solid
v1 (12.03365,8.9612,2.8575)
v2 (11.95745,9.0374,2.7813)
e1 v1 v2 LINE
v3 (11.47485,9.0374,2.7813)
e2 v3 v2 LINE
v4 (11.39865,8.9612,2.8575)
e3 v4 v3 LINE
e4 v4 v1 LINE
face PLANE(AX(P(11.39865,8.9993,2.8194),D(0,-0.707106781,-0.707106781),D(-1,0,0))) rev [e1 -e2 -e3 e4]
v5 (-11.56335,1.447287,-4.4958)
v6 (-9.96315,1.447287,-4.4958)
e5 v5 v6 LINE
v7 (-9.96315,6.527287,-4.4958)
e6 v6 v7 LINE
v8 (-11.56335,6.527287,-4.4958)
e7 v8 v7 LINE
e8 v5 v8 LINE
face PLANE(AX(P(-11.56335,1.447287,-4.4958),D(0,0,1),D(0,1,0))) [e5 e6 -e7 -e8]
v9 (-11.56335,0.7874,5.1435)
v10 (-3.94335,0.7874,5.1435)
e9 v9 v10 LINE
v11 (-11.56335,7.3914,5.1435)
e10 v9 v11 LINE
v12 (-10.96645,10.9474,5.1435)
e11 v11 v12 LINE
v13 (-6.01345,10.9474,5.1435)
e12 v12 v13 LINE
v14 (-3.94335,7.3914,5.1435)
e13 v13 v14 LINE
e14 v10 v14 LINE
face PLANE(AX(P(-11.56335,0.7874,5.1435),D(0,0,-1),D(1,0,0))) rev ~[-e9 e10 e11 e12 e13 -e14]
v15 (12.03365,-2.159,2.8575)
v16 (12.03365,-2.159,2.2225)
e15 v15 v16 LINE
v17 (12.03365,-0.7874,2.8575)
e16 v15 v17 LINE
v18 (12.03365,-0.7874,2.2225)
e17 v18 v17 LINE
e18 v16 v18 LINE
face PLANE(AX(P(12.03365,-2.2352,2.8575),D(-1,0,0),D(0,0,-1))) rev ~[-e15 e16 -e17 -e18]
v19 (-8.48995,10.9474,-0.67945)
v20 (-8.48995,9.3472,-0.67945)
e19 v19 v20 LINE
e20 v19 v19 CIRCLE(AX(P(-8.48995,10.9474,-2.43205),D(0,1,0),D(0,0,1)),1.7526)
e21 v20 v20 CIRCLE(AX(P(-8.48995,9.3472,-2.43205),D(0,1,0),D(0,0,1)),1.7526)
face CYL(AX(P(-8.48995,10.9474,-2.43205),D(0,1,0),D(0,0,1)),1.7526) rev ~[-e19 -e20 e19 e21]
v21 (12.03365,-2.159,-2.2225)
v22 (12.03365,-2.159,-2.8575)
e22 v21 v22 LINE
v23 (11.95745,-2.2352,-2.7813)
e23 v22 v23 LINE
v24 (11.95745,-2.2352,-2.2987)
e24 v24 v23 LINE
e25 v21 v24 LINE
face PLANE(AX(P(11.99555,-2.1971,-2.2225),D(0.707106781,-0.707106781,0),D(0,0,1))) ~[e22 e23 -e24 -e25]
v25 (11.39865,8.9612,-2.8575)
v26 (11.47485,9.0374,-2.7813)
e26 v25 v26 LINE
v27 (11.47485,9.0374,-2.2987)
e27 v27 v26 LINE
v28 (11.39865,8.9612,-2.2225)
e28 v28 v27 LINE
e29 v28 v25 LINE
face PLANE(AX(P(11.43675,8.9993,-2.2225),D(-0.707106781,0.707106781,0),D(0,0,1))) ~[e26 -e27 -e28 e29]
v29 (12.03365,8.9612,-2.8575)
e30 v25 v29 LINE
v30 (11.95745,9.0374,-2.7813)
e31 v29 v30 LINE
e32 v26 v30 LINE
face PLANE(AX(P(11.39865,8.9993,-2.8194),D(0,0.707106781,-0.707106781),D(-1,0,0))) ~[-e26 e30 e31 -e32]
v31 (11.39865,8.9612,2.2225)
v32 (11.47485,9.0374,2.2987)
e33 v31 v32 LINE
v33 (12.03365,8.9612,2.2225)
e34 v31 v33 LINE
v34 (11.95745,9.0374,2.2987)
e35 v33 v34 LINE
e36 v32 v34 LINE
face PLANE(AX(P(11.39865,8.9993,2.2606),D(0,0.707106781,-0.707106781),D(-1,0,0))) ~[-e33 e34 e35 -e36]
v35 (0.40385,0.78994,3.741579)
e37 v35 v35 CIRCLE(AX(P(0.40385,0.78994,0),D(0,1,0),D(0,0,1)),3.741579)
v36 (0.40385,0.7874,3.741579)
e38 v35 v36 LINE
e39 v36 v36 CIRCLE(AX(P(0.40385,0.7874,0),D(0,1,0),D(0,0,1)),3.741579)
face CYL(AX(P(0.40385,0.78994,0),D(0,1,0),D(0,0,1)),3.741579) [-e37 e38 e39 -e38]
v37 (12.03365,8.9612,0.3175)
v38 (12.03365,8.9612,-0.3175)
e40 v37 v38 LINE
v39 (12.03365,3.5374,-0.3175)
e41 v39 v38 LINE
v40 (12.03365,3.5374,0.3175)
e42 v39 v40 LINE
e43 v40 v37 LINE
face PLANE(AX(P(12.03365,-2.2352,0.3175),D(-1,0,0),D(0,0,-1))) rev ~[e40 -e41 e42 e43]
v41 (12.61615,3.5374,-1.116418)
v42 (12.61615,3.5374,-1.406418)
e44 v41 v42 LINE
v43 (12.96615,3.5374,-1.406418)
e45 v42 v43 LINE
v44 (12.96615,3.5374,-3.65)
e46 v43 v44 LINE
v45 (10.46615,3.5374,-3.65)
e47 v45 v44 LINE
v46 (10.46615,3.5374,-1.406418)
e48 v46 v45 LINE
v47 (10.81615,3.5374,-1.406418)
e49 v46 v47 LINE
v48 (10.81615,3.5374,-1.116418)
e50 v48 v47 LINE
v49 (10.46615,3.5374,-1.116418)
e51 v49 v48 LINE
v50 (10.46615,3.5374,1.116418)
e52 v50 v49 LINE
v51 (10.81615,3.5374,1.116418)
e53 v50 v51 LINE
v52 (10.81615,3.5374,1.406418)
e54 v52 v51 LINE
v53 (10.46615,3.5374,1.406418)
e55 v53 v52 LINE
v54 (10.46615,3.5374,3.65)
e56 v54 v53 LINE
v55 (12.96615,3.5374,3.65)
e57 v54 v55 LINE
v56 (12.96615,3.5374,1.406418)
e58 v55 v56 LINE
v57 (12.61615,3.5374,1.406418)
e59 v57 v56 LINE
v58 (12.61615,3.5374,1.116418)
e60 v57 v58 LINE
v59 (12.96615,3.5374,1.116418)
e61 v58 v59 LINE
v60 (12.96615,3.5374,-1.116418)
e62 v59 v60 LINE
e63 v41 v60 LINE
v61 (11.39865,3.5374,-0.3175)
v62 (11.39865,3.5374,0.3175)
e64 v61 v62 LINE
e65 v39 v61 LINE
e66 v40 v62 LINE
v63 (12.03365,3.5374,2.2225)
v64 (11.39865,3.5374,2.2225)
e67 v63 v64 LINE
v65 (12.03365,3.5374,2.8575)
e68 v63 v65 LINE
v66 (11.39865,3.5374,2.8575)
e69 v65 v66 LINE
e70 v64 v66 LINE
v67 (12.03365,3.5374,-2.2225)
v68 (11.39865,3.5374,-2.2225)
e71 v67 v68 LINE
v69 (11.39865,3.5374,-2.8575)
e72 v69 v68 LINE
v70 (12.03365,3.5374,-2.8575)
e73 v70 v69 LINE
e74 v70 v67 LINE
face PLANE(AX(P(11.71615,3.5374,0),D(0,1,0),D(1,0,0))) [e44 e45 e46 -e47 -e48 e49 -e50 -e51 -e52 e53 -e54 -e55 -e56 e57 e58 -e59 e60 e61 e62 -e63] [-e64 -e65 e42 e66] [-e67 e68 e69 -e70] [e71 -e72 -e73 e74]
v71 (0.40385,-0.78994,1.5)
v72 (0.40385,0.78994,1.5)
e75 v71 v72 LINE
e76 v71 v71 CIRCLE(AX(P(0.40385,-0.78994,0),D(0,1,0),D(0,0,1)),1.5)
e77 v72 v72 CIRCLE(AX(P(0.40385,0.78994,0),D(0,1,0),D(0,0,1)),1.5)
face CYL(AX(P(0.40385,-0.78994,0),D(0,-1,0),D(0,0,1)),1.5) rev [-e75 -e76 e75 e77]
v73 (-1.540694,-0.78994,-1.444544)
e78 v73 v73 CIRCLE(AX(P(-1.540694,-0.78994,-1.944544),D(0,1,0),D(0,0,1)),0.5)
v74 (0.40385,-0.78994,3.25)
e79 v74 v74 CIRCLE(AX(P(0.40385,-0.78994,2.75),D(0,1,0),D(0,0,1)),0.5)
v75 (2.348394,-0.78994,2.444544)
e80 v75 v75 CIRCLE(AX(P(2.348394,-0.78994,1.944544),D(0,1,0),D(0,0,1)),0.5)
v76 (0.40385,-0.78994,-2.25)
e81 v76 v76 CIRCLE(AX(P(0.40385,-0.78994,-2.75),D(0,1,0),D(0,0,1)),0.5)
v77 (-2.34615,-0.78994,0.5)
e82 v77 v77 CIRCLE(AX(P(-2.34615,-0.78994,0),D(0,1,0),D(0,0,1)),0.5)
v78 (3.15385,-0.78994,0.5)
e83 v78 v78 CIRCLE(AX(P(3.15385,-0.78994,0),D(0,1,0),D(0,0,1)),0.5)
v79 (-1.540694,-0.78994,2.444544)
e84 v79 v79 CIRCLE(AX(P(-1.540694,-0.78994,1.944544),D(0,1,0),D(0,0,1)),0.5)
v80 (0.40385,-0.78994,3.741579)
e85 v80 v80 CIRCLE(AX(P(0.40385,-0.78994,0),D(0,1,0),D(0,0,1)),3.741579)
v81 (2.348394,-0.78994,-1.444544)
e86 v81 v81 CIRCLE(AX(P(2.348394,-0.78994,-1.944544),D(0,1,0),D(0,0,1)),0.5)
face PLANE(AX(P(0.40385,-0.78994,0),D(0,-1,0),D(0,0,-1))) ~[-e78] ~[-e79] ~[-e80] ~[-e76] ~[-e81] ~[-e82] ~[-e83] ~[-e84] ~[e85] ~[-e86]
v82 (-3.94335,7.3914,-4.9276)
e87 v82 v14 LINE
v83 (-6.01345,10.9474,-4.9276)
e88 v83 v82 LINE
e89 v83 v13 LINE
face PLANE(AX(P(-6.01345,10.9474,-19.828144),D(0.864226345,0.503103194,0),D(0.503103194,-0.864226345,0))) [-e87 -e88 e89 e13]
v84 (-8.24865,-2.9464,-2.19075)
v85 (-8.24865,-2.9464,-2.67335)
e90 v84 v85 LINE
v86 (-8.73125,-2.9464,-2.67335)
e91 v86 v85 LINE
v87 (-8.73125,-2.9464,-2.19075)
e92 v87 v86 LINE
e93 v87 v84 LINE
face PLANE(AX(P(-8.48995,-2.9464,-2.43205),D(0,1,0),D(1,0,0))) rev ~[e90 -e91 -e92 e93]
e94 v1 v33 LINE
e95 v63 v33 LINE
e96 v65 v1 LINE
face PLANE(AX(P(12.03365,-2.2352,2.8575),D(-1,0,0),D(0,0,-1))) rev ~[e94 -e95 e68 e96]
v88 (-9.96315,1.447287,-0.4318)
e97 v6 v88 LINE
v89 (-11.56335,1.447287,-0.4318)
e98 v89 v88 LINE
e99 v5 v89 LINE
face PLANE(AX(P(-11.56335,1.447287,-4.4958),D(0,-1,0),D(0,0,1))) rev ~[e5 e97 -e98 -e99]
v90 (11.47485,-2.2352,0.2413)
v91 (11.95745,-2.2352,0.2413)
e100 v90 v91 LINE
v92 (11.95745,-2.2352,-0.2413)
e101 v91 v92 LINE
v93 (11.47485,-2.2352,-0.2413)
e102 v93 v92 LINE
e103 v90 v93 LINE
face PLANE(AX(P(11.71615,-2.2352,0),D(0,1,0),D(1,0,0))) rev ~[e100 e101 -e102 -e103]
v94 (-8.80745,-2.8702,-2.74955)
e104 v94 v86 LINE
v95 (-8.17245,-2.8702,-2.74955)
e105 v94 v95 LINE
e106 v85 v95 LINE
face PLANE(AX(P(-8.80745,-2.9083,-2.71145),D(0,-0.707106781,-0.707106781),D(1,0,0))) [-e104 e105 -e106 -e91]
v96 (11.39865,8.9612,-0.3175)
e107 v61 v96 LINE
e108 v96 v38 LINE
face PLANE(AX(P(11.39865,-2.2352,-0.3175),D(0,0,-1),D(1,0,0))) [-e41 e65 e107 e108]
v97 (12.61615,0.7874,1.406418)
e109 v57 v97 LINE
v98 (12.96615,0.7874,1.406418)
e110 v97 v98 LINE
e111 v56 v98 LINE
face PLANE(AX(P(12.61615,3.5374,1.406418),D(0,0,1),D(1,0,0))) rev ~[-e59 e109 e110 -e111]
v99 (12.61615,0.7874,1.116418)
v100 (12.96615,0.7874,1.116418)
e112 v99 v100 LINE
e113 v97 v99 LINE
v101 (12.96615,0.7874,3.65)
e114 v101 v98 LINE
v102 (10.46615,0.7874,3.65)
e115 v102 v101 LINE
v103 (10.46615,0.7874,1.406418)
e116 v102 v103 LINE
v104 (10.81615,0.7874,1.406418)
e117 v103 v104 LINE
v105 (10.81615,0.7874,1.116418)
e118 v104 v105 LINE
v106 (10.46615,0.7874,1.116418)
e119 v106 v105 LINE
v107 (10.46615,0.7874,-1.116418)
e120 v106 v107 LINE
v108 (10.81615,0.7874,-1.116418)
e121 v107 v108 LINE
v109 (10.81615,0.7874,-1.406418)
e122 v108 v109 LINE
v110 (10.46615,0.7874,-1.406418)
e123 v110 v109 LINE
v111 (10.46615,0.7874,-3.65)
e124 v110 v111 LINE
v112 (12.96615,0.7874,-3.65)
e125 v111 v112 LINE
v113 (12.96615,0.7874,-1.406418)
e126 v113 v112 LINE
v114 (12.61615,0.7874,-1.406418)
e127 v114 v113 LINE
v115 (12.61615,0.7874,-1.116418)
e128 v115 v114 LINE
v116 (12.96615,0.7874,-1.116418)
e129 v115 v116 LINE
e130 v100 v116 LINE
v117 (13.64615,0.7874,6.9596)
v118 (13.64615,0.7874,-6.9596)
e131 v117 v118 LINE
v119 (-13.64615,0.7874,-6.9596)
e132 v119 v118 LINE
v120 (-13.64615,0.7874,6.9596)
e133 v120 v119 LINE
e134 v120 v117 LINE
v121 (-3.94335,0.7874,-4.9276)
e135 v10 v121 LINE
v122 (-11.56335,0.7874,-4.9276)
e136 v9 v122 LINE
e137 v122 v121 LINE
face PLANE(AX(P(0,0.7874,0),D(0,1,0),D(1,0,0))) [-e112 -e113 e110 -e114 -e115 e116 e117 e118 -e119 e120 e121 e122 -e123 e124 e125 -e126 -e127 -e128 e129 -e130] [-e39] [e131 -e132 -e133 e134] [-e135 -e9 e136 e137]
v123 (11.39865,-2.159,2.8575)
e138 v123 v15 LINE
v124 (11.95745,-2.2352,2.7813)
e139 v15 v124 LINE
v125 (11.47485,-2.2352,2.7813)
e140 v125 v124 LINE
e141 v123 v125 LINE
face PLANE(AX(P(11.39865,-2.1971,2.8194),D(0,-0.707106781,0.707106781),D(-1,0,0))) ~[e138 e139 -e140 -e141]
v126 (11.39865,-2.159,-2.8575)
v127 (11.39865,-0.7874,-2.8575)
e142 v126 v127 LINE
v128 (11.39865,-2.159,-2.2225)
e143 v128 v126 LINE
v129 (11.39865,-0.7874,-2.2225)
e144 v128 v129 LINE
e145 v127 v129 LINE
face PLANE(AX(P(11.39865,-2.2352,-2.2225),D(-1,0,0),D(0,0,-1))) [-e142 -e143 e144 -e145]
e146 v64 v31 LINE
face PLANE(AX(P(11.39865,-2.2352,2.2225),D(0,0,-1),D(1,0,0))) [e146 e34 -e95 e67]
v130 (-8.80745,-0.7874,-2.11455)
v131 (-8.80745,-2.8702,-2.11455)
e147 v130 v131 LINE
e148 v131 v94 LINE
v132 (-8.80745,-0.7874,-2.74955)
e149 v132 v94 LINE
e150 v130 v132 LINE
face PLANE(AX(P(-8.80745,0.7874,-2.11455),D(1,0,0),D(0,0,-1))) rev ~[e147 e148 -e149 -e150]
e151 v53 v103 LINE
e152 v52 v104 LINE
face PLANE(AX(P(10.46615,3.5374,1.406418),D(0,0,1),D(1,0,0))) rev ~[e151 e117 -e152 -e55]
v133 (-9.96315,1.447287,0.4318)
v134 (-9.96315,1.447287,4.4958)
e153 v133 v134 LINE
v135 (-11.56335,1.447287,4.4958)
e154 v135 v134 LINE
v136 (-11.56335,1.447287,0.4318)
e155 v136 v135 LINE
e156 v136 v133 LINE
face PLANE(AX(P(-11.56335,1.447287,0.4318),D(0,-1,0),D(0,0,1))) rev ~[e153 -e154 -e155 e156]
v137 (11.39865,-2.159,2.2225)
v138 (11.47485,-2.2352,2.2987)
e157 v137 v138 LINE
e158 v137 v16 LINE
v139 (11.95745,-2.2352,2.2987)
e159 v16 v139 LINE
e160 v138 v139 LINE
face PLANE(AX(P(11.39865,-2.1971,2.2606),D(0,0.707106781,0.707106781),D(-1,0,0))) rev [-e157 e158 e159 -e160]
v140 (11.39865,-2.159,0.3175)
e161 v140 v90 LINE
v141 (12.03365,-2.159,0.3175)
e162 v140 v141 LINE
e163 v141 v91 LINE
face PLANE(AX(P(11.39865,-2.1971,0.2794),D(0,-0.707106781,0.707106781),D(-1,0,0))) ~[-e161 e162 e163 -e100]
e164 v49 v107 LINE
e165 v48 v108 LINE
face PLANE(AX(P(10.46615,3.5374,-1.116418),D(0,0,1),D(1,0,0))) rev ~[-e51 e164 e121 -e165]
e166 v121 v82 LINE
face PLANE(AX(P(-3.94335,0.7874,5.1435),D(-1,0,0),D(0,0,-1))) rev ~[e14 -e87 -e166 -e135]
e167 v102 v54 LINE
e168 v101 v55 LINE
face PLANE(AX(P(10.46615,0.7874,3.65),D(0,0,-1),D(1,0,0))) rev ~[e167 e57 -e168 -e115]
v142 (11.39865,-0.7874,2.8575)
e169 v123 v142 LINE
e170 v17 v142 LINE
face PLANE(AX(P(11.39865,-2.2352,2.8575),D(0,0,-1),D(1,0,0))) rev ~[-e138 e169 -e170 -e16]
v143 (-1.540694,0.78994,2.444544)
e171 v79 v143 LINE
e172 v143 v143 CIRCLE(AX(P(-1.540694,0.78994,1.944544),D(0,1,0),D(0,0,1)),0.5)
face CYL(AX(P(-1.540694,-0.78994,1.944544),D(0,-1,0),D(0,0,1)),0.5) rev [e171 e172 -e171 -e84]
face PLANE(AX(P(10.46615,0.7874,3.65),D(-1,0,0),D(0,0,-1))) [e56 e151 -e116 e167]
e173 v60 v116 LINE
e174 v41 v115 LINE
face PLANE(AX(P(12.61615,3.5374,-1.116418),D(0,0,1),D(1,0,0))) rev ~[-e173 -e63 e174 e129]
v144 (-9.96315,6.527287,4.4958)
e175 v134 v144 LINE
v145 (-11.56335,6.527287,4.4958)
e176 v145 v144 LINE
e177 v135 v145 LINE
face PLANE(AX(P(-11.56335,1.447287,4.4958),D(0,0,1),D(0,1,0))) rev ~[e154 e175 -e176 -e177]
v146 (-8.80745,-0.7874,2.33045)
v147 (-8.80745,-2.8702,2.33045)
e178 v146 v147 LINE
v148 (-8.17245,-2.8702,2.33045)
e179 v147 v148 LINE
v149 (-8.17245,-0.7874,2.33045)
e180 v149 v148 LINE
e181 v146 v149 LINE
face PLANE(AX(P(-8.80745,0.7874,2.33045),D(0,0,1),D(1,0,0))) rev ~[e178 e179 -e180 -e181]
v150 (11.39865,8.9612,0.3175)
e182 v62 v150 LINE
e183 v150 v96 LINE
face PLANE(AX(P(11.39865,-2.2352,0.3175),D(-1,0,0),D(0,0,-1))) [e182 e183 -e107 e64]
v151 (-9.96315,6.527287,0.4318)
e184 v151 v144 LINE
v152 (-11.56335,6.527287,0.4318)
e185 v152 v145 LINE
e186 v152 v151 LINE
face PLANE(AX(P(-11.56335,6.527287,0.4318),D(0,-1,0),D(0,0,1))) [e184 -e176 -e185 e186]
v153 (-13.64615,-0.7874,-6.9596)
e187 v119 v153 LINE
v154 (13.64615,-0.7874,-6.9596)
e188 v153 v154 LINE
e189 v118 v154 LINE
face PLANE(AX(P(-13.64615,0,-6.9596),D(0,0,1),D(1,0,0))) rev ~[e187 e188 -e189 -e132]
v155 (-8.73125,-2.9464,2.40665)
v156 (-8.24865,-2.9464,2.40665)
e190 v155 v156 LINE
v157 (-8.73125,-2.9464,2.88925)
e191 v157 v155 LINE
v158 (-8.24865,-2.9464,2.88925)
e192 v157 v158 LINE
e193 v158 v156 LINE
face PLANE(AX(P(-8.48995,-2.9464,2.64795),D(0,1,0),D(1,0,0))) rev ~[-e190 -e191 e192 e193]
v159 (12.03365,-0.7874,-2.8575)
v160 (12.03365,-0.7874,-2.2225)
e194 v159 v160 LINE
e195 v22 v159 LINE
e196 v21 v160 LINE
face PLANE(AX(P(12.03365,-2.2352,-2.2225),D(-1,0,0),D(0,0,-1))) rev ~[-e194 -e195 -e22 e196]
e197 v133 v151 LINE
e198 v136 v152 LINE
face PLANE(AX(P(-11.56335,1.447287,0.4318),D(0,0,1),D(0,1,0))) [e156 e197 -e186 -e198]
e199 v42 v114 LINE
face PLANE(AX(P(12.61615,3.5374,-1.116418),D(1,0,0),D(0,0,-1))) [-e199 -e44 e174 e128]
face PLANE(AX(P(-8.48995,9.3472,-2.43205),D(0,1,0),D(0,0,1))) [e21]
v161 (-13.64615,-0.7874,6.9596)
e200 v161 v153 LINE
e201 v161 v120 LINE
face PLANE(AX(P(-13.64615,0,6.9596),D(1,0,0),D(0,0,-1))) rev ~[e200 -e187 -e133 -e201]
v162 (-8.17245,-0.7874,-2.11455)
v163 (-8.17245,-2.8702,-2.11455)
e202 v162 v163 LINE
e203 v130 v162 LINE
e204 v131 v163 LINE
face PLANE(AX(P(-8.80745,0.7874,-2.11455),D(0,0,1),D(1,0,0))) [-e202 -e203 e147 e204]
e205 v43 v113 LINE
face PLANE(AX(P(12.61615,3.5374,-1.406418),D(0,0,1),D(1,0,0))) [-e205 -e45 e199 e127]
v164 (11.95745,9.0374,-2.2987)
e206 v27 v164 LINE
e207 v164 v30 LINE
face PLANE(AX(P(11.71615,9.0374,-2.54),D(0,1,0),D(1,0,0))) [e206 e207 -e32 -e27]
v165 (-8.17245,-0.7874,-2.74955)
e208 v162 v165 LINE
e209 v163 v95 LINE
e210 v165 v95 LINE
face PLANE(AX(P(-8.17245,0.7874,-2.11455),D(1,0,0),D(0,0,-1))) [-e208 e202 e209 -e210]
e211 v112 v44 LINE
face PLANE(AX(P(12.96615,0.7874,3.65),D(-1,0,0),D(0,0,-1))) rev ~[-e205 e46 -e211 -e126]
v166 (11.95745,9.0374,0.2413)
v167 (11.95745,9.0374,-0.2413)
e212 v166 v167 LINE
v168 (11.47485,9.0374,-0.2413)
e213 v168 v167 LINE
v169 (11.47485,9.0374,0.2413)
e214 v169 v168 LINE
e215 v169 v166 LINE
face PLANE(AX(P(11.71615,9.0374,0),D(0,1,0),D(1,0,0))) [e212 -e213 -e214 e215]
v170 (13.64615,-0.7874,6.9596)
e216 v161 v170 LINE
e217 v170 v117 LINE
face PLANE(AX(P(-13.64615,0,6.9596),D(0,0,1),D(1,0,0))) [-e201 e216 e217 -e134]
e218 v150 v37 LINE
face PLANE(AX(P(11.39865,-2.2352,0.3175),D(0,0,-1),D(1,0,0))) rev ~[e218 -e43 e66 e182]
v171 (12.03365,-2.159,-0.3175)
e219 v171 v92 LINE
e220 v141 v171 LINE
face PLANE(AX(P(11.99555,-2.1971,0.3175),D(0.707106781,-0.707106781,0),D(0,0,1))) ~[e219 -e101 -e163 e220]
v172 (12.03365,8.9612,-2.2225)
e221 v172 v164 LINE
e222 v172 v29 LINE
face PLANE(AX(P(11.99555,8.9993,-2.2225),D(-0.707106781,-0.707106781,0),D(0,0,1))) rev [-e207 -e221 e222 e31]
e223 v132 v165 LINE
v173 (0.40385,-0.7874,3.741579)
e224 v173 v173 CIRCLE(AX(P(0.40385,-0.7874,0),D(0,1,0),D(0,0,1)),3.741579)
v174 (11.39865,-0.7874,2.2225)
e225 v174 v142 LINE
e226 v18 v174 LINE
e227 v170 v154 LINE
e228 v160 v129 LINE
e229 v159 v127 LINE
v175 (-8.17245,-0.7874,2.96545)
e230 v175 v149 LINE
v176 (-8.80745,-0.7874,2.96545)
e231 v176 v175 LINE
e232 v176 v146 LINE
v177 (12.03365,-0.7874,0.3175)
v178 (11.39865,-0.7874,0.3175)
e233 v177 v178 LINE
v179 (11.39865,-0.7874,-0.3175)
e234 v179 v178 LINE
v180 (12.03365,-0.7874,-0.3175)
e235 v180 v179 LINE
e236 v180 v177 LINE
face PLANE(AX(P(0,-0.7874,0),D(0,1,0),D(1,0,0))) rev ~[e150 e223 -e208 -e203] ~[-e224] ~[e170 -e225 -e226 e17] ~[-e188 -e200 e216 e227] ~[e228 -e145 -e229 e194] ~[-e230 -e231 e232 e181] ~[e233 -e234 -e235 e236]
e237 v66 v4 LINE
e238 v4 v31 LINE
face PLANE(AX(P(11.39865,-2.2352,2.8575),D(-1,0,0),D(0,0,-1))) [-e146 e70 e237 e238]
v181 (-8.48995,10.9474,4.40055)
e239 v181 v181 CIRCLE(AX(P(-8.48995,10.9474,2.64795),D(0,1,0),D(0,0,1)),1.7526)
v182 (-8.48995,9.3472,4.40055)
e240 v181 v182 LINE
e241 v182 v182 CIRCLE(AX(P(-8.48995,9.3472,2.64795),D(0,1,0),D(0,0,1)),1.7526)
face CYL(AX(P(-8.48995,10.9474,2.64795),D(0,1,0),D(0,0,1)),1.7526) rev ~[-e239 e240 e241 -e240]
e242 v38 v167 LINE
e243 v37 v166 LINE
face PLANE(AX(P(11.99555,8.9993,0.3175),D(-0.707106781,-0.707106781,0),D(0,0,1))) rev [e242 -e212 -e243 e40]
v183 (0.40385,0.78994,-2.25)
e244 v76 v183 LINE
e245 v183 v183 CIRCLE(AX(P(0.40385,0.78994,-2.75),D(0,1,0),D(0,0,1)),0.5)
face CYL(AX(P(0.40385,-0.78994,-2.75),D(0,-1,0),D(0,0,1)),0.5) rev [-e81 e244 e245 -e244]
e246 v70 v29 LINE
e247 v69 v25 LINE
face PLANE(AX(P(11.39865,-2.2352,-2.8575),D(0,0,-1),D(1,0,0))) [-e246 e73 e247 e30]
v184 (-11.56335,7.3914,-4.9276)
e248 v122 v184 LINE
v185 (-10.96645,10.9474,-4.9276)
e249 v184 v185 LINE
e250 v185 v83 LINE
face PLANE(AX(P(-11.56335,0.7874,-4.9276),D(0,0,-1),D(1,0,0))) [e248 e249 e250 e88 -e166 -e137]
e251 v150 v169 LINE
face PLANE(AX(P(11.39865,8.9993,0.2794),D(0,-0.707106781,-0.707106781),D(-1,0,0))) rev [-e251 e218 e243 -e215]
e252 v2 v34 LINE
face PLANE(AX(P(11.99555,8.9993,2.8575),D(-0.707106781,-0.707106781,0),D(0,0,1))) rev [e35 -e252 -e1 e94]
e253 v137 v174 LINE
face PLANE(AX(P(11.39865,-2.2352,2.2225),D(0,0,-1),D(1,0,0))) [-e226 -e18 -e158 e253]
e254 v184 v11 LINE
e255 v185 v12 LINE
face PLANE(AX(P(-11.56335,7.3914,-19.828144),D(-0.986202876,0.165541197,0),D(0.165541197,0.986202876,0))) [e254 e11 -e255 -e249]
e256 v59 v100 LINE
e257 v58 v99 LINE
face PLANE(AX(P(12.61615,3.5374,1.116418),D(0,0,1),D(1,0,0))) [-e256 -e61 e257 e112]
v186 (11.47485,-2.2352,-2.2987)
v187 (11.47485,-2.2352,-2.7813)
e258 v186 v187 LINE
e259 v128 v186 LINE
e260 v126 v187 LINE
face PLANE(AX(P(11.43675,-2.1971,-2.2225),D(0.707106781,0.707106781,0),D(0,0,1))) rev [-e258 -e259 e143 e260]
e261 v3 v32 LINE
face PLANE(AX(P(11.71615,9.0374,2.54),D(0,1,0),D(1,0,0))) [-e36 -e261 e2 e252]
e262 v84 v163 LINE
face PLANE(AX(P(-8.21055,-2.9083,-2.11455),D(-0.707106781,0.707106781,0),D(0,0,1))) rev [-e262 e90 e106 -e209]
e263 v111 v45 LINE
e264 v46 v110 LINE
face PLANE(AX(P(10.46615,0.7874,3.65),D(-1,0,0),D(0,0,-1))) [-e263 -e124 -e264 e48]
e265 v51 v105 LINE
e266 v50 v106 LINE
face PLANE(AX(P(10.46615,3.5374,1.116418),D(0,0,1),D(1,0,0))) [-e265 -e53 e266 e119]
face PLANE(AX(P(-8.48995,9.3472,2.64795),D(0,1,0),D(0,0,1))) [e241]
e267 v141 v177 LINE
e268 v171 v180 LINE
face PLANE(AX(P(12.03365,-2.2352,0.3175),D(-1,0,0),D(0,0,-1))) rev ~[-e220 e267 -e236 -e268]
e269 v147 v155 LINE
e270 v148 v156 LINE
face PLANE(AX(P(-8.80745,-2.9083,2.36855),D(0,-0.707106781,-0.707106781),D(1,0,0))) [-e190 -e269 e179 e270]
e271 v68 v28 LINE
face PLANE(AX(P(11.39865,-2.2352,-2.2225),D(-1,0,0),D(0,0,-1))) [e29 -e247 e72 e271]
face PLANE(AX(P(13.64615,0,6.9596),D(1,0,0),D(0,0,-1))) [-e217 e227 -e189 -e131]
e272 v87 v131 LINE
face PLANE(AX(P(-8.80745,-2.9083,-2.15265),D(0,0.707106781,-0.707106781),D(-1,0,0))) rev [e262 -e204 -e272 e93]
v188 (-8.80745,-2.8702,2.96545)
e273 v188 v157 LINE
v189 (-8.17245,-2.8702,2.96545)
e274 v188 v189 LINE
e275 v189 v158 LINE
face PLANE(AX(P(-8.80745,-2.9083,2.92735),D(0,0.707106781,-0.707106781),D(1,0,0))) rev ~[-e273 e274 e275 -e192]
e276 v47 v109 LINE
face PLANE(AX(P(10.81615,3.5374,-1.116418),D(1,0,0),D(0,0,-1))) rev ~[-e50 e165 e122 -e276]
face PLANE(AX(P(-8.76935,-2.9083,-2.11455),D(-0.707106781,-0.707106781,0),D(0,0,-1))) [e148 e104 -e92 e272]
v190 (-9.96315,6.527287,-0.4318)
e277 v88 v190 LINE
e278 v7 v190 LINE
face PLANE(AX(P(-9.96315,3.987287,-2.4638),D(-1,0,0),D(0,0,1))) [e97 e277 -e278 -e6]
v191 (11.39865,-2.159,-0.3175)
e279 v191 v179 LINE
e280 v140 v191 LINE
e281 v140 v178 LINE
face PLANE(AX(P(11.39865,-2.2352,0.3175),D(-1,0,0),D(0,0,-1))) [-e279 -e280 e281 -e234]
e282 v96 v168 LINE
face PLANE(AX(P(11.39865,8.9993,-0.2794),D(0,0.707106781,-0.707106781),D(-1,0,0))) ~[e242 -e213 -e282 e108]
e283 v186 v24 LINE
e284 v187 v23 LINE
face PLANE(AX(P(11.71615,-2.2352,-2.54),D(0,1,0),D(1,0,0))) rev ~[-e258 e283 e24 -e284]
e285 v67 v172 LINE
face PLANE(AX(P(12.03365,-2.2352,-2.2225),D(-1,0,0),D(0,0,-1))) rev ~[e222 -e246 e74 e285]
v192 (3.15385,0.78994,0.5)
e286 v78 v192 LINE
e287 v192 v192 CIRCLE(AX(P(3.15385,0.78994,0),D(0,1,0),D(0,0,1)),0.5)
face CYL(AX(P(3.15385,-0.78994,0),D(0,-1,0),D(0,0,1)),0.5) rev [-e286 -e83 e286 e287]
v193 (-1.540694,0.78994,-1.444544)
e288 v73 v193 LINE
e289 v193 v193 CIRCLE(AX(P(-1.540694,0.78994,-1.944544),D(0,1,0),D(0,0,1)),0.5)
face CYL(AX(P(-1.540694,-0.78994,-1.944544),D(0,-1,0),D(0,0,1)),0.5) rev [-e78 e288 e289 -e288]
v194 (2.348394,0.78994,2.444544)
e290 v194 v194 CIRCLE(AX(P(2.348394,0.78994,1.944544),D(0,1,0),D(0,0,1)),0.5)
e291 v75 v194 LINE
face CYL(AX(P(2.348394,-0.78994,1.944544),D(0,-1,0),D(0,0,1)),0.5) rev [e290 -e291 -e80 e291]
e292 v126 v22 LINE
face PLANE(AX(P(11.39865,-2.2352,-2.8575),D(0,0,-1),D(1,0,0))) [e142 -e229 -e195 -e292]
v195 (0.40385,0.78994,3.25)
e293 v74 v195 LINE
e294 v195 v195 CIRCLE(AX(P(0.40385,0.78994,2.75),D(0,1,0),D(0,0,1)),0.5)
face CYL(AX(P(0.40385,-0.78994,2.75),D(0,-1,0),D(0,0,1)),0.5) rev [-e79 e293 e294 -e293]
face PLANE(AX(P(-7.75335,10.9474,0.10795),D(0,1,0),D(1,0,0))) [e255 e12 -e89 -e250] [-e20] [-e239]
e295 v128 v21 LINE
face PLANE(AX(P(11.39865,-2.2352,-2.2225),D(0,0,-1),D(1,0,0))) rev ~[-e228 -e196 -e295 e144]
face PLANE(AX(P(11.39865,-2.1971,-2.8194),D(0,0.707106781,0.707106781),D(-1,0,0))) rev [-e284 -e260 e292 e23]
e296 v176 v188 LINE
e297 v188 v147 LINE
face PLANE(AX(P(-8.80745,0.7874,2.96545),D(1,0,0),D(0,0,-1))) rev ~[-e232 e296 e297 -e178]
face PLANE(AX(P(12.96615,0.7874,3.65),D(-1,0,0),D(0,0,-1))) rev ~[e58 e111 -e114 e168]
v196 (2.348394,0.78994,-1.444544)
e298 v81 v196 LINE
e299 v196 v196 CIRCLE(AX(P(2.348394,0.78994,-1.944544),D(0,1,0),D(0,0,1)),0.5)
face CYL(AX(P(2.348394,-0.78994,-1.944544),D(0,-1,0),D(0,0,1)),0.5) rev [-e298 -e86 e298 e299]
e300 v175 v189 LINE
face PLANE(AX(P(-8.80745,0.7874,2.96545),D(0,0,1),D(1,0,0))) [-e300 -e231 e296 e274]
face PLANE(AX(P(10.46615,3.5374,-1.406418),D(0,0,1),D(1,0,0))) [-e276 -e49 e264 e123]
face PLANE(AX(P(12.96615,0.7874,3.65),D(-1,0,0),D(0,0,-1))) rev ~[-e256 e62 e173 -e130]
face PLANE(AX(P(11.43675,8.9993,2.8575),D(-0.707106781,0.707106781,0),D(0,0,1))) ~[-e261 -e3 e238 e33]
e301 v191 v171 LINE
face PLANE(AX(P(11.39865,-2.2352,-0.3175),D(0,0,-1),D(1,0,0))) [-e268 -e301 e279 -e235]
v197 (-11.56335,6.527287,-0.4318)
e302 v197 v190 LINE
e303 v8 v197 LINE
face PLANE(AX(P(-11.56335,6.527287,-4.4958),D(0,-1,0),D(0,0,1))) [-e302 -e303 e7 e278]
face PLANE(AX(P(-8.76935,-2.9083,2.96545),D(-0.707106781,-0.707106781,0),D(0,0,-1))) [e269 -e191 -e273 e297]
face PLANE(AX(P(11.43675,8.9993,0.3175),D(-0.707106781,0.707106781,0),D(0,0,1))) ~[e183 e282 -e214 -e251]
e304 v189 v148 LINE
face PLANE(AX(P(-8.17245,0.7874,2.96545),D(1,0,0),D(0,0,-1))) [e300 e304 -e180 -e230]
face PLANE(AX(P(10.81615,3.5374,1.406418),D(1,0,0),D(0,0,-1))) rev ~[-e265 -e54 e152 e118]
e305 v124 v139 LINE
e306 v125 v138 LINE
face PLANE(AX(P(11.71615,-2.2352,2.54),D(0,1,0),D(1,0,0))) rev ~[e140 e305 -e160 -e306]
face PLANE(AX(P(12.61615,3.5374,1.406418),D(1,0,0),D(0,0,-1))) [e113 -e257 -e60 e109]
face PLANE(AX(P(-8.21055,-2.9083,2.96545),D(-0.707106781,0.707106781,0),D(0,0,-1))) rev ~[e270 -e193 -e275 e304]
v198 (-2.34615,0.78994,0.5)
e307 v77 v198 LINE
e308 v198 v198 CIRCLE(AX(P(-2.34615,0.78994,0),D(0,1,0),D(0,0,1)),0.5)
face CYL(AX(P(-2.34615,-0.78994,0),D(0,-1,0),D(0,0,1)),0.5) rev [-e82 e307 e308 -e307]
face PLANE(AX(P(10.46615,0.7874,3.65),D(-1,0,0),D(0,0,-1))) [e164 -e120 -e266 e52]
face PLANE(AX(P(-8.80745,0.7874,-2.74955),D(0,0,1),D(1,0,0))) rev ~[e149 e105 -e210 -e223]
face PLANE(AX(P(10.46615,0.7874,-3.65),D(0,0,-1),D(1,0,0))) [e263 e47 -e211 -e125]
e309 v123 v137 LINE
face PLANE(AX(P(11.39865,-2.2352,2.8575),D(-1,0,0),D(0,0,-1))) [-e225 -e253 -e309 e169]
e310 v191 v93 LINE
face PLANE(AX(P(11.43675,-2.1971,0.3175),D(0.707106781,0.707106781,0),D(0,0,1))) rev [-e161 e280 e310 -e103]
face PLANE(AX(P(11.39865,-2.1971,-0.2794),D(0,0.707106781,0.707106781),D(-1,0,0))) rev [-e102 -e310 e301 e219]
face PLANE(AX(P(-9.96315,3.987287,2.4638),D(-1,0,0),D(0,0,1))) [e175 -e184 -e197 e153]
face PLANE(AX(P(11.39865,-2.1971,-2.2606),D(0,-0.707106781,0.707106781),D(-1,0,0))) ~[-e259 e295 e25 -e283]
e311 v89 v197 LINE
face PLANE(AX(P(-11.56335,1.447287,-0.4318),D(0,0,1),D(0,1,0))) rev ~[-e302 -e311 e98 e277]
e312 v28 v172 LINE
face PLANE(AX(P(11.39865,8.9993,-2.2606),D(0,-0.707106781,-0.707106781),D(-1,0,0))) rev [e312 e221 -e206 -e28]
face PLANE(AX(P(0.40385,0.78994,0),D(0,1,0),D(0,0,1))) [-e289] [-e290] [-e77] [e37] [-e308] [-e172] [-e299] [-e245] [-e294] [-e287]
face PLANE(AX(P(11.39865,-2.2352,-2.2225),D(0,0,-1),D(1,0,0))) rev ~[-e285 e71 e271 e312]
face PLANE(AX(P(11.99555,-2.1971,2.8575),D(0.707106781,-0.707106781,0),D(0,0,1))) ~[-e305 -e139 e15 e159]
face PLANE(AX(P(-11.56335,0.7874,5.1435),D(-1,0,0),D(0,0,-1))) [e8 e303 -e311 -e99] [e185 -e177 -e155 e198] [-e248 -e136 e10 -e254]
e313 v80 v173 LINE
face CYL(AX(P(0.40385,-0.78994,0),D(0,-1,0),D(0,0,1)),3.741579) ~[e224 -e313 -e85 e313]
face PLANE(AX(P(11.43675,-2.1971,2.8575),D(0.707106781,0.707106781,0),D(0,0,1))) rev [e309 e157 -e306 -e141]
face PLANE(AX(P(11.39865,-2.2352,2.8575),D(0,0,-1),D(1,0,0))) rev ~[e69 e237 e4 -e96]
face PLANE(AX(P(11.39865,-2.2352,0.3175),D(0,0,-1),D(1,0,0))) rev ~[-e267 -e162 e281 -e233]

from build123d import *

# Parameters (mm, degrees)
SKETCH1_W                = 27.2923
SKETCH1_H                = 13.9192
BOSS_EXTRUDE1_DEPTH      = 0.7874
SKETCH2_R                = 1.5
SKETCH2_R_2              = 0.5
CUT_EXTRUDE1_DEPTH       = 16.399137542
SKETCH3_W                = 2.5
SKETCH3_H                = 7.3
BOSS_EXTRUDE2_DEPTH      = 2.75
SKETCH4_W                = 0.35
SKETCH4_H                = 0.29
CUT_EXTRUDE2_DEPTH       = 2.75
BOSS_EXTRUDE3_DEPTH      = 5.5
BOSS_EXTRUDE3_DEPTH_BACK = 5.7726
SKETCH5_W                = 0.635
SKETCH5_H                = 0.635
BOSS_EXTRUDE4_START      = 0.00254
SKETCH6_R                = 3.741578583
SKETCH6_R_2              = 0.5
SKETCH6_R_3              = 1.5
BOSS_EXTRUDE4_DEPTH      = 0.00254
SKETCH7_W                = 7.62
SKETCH7_H                = 10.0711
BOSS_EXTRUDE5_DEPTH      = 10.16
CUT_EXTRUDE3_DEPTH       = 19.82814406
CUT_EXTRUDE3_DEPTH_BACK  = 19.82814406
SKETCH9_R                = 1.7526
CUT_EXTRUDE4_DEPTH       = 1.6002
SKETCH10_W               = 0.635
SKETCH10_H               = 0.635
BOSS_EXTRUDE6_DEPTH      = 3.7338
CHAMFER1_SIZE            = 0.0762
SKETCH11_W               = 4.064
SKETCH11_H               = 5.08
CUT_EXTRUDE5_DEPTH       = 1.6002


with BuildPart() as part:
    # Sketch1 → Boss-Extrude1 (new, symmetric)
    with BuildSketch(Plane(origin=(0, 0, 0), x_dir=(1, 0, 0), z_dir=(0, 1, 0))):
        Rectangle(SKETCH1_W, SKETCH1_H)
    extrude(amount=BOSS_EXTRUDE1_DEPTH, both=True)

    # Sketch2 → Cut-Extrude1 (cut, through all)
    with BuildSketch(Plane(origin=(0, 0.7874, 0), x_dir=(1, 0, 0), z_dir=(0, 1, 0))):
        with Locations(Location((0.40385, 0, 0), (0, 0, 270))):
            Circle(SKETCH2_R)
        with Locations(Location((0.40385, 2.75, 0), (0, 0, 270))):
            Circle(SKETCH2_R_2)
        with Locations(Location((2.348393648, 1.944543648, 0), (0, 0, 270))):
            Circle(SKETCH2_R_2)
        with Locations(Location((3.15385, 0, 0), (0, 0, 270))):
            Circle(SKETCH2_R_2)
        with Locations(Location((2.348393648, -1.944543648, 0), (0, 0, 270))):
            Circle(SKETCH2_R_2)
        with Locations(Location((0.40385, -2.75, 0), (0, 0, 270))):
            Circle(SKETCH2_R_2)
        with Locations(Location((-1.540693648, -1.944543648, 0), (0, 0, 270))):
            Circle(SKETCH2_R_2)
        with Locations(Location((-2.34615, 0, 0), (0, 0, 270))):
            Circle(SKETCH2_R_2)
        with Locations(Location((-1.540693648, 1.944543648, 0), (0, 0, 270))):
            Circle(SKETCH2_R_2)
    extrude(amount=-CUT_EXTRUDE1_DEPTH, mode=Mode.SUBTRACT)

    # Sketch3 → Boss-Extrude2 (add)
    with BuildSketch(Plane(origin=(0, 0.7874, 0), x_dir=(1, 0, 0), z_dir=(0, 1, 0))):
        with Locations((11.71615, 0)):
            Rectangle(SKETCH3_W, SKETCH3_H)
    extrude(amount=BOSS_EXTRUDE2_DEPTH)

    # Sketch4 → Cut-Extrude2 (cut)
    with BuildSketch(Plane(origin=(0, 3.5374, 0), x_dir=(1, 0, 0), z_dir=(0, 1, 0))):
        with Locations((10.64115, 1.261418)):
            Rectangle(SKETCH4_W, SKETCH4_H)
        with Locations((10.64115, -1.261418)):
            Rectangle(SKETCH4_W, SKETCH4_H)
        with Locations((12.79115, -1.261418)):
            Rectangle(SKETCH4_W, SKETCH4_H)
        with Locations((12.79115, 1.261418)):
            Rectangle(SKETCH4_W, SKETCH4_H)
    extrude(amount=-CUT_EXTRUDE2_DEPTH, mode=Mode.SUBTRACT)

    # Sketch5 → Boss-Extrude3 (add, two sides: drawn at the far end of the back side and taken through both)
    with BuildSketch(Plane(origin=(0, 3.5374, 0), x_dir=(1, 0, 0), z_dir=(0, 1, 0)).offset(-BOSS_EXTRUDE3_DEPTH_BACK)):
        with Locations((11.71615, 0)):
            Rectangle(SKETCH5_W, SKETCH5_H)
        with Locations((11.71615, 2.54)):
            Rectangle(SKETCH5_W, SKETCH5_H)
        with Locations((11.71615, -2.54)):
            Rectangle(SKETCH5_W, SKETCH5_H)
    extrude(amount=BOSS_EXTRUDE3_DEPTH + BOSS_EXTRUDE3_DEPTH_BACK)

    # Sketch6 → Boss-Extrude4 (add)
    with BuildSketch(Plane(origin=(0, 0.7874, 0), x_dir=(1, 0, 0), z_dir=(0, 1, 0)).offset(BOSS_EXTRUDE4_START)):
        with Locations(Location((0.40385, 0, 0), (0, 0, 270))):
            Circle(SKETCH6_R)
        with Locations(Location((-2.34615, 0, 0), (0, 0, 270))):
            Circle(SKETCH6_R_2, mode=Mode.SUBTRACT)
        with Locations(Location((-1.540693648, -1.944543648, 0), (0, 0, 270))):
            Circle(SKETCH6_R_2, mode=Mode.SUBTRACT)
        with Locations(Location((0.40385, -2.75, 0), (0, 0, 270))):
            Circle(SKETCH6_R_2, mode=Mode.SUBTRACT)
        with Locations(Location((2.348393648, -1.944543648, 0), (0, 0, 270))):
            Circle(SKETCH6_R_2, mode=Mode.SUBTRACT)
        with Locations(Location((3.15385, 0, 0), (0, 0, 270))):
            Circle(SKETCH6_R_2, mode=Mode.SUBTRACT)
        with Locations(Location((2.348393648, 1.944543648, 0), (0, 0, 270))):
            Circle(SKETCH6_R_2, mode=Mode.SUBTRACT)
        with Locations(Location((0.40385, 0, 0), (0, 0, 270))):
            Circle(SKETCH6_R_3, mode=Mode.SUBTRACT)
        with Locations(Location((-1.540693648, 1.944543648, 0), (0, 0, 270))):
            Circle(SKETCH6_R_2, mode=Mode.SUBTRACT)
        with Locations(Location((0.40385, 2.75, 0), (0, 0, 270))):
            Circle(SKETCH6_R_2, mode=Mode.SUBTRACT)
    boss_extrude4 = extrude(amount=-BOSS_EXTRUDE4_DEPTH)

    # Mirror1: Boss-Extrude4 across plane
    add(boss_extrude4.mirror(Plane.ZX))

    # Sketch7 → Boss-Extrude5 (add)
    with BuildSketch(Plane(origin=(0, 0.7874, 0), x_dir=(1, 0, 0), z_dir=(0, 1, 0))):
        with Locations((-7.75335, -0.10795)):
            Rectangle(SKETCH7_W, SKETCH7_H)
    extrude(amount=BOSS_EXTRUDE5_DEPTH)

    # Sketch8 → Cut-Extrude3 (cut, two sides: drawn at the far end of the back side and taken through both)
    with BuildSketch(Plane.XY.offset(-CUT_EXTRUDE3_DEPTH_BACK)):
        Polygon((-6.01345, 10.9474), (-3.94335, 7.3914), (-3.94335, 10.9474), align=None)
        Polygon((-10.96645, 10.9474), (-11.56335, 10.9474), (-11.56335, 7.3914), align=None)
    extrude(amount=CUT_EXTRUDE3_DEPTH + CUT_EXTRUDE3_DEPTH_BACK, mode=Mode.SUBTRACT)

    # Sketch9 → Cut-Extrude4 (cut)
    with BuildSketch(Plane(origin=(0, 10.9474, 0), x_dir=(1, 0, 0), z_dir=(0, 1, 0))):
        with Locations(Location((-8.48995, 2.43205, 0), (0, 0, 270))):
            Circle(SKETCH9_R)
        with Locations(Location((-8.48995, -2.64795, 0), (0, 0, 270))):
            Circle(SKETCH9_R)
    extrude(amount=-CUT_EXTRUDE4_DEPTH, mode=Mode.SUBTRACT)

    # Sketch10 → Boss-Extrude6 (add)
    with BuildSketch(Plane(origin=(0, 0.7874, 0), x_dir=(1, 0, 0), z_dir=(0, 1, 0))):
        with Locations((-8.48995, 2.43205)):
            Rectangle(SKETCH10_W, SKETCH10_H)
        with Locations((-8.48995, -2.64795)):
            Rectangle(SKETCH10_W, SKETCH10_H)
    extrude(amount=-BOSS_EXTRUDE6_DEPTH)

    # Chamfer1
    chamfer1_edges = [part.edges().sort_by_distance(p)[0] for p in [
        (12.03365, -2.2352, 0),
        (11.71615, -2.2352, 0.3175),
        (11.39865, -2.2352, 0),
        (11.71615, -2.2352, -0.3175),
        (12.03365, 9.0374, 0),
        (11.71615, 9.0374, -0.3175),
        (11.39865, 9.0374, 0),
        (11.71615, 9.0374, 0.3175),
        (12.03365, -2.2352, -2.54),
        (11.71615, -2.2352, -2.2225),
        (11.39865, -2.2352, -2.54),
        (11.71615, -2.2352, -2.8575),
        (12.03365, 9.0374, -2.54),
        (11.71615, 9.0374, -2.8575),
        (11.39865, 9.0374, -2.54),
        (11.71615, 9.0374, -2.2225),
        (12.03365, -2.2352, 2.54),
        (11.71615, -2.2352, 2.8575),
        (11.39865, -2.2352, 2.54),
        (11.71615, -2.2352, 2.2225),
        (12.03365, 9.0374, 2.54),
        (11.71615, 9.0374, 2.2225),
        (11.39865, 9.0374, 2.54),
        (11.71615, 9.0374, 2.8575),
        (-8.17245, -2.9464, -2.43205),
        (-8.48995, -2.9464, -2.11455),
        (-8.80745, -2.9464, -2.43205),
        (-8.48995, -2.9464, -2.74955),
        (-8.17245, -2.9464, 2.64795),
        (-8.48995, -2.9464, 2.96545),
        (-8.80745, -2.9464, 2.64795),
        (-8.48995, -2.9464, 2.33045),
    ]]
    chamfer(chamfer1_edges, length=CHAMFER1_SIZE)

    # Sketch11 → Cut-Extrude5 (cut)
    with BuildSketch(Plane.ZY.offset(11.56335)):
        with Locations((-2.4638, 3.987287249)):
            Rectangle(SKETCH11_W, SKETCH11_H)
        with Locations((2.4638, 3.987287249)):
            Rectangle(SKETCH11_W, SKETCH11_H)
    extrude(amount=-CUT_EXTRUDE5_DEPTH, mode=Mode.SUBTRACT)


solid = part.part
